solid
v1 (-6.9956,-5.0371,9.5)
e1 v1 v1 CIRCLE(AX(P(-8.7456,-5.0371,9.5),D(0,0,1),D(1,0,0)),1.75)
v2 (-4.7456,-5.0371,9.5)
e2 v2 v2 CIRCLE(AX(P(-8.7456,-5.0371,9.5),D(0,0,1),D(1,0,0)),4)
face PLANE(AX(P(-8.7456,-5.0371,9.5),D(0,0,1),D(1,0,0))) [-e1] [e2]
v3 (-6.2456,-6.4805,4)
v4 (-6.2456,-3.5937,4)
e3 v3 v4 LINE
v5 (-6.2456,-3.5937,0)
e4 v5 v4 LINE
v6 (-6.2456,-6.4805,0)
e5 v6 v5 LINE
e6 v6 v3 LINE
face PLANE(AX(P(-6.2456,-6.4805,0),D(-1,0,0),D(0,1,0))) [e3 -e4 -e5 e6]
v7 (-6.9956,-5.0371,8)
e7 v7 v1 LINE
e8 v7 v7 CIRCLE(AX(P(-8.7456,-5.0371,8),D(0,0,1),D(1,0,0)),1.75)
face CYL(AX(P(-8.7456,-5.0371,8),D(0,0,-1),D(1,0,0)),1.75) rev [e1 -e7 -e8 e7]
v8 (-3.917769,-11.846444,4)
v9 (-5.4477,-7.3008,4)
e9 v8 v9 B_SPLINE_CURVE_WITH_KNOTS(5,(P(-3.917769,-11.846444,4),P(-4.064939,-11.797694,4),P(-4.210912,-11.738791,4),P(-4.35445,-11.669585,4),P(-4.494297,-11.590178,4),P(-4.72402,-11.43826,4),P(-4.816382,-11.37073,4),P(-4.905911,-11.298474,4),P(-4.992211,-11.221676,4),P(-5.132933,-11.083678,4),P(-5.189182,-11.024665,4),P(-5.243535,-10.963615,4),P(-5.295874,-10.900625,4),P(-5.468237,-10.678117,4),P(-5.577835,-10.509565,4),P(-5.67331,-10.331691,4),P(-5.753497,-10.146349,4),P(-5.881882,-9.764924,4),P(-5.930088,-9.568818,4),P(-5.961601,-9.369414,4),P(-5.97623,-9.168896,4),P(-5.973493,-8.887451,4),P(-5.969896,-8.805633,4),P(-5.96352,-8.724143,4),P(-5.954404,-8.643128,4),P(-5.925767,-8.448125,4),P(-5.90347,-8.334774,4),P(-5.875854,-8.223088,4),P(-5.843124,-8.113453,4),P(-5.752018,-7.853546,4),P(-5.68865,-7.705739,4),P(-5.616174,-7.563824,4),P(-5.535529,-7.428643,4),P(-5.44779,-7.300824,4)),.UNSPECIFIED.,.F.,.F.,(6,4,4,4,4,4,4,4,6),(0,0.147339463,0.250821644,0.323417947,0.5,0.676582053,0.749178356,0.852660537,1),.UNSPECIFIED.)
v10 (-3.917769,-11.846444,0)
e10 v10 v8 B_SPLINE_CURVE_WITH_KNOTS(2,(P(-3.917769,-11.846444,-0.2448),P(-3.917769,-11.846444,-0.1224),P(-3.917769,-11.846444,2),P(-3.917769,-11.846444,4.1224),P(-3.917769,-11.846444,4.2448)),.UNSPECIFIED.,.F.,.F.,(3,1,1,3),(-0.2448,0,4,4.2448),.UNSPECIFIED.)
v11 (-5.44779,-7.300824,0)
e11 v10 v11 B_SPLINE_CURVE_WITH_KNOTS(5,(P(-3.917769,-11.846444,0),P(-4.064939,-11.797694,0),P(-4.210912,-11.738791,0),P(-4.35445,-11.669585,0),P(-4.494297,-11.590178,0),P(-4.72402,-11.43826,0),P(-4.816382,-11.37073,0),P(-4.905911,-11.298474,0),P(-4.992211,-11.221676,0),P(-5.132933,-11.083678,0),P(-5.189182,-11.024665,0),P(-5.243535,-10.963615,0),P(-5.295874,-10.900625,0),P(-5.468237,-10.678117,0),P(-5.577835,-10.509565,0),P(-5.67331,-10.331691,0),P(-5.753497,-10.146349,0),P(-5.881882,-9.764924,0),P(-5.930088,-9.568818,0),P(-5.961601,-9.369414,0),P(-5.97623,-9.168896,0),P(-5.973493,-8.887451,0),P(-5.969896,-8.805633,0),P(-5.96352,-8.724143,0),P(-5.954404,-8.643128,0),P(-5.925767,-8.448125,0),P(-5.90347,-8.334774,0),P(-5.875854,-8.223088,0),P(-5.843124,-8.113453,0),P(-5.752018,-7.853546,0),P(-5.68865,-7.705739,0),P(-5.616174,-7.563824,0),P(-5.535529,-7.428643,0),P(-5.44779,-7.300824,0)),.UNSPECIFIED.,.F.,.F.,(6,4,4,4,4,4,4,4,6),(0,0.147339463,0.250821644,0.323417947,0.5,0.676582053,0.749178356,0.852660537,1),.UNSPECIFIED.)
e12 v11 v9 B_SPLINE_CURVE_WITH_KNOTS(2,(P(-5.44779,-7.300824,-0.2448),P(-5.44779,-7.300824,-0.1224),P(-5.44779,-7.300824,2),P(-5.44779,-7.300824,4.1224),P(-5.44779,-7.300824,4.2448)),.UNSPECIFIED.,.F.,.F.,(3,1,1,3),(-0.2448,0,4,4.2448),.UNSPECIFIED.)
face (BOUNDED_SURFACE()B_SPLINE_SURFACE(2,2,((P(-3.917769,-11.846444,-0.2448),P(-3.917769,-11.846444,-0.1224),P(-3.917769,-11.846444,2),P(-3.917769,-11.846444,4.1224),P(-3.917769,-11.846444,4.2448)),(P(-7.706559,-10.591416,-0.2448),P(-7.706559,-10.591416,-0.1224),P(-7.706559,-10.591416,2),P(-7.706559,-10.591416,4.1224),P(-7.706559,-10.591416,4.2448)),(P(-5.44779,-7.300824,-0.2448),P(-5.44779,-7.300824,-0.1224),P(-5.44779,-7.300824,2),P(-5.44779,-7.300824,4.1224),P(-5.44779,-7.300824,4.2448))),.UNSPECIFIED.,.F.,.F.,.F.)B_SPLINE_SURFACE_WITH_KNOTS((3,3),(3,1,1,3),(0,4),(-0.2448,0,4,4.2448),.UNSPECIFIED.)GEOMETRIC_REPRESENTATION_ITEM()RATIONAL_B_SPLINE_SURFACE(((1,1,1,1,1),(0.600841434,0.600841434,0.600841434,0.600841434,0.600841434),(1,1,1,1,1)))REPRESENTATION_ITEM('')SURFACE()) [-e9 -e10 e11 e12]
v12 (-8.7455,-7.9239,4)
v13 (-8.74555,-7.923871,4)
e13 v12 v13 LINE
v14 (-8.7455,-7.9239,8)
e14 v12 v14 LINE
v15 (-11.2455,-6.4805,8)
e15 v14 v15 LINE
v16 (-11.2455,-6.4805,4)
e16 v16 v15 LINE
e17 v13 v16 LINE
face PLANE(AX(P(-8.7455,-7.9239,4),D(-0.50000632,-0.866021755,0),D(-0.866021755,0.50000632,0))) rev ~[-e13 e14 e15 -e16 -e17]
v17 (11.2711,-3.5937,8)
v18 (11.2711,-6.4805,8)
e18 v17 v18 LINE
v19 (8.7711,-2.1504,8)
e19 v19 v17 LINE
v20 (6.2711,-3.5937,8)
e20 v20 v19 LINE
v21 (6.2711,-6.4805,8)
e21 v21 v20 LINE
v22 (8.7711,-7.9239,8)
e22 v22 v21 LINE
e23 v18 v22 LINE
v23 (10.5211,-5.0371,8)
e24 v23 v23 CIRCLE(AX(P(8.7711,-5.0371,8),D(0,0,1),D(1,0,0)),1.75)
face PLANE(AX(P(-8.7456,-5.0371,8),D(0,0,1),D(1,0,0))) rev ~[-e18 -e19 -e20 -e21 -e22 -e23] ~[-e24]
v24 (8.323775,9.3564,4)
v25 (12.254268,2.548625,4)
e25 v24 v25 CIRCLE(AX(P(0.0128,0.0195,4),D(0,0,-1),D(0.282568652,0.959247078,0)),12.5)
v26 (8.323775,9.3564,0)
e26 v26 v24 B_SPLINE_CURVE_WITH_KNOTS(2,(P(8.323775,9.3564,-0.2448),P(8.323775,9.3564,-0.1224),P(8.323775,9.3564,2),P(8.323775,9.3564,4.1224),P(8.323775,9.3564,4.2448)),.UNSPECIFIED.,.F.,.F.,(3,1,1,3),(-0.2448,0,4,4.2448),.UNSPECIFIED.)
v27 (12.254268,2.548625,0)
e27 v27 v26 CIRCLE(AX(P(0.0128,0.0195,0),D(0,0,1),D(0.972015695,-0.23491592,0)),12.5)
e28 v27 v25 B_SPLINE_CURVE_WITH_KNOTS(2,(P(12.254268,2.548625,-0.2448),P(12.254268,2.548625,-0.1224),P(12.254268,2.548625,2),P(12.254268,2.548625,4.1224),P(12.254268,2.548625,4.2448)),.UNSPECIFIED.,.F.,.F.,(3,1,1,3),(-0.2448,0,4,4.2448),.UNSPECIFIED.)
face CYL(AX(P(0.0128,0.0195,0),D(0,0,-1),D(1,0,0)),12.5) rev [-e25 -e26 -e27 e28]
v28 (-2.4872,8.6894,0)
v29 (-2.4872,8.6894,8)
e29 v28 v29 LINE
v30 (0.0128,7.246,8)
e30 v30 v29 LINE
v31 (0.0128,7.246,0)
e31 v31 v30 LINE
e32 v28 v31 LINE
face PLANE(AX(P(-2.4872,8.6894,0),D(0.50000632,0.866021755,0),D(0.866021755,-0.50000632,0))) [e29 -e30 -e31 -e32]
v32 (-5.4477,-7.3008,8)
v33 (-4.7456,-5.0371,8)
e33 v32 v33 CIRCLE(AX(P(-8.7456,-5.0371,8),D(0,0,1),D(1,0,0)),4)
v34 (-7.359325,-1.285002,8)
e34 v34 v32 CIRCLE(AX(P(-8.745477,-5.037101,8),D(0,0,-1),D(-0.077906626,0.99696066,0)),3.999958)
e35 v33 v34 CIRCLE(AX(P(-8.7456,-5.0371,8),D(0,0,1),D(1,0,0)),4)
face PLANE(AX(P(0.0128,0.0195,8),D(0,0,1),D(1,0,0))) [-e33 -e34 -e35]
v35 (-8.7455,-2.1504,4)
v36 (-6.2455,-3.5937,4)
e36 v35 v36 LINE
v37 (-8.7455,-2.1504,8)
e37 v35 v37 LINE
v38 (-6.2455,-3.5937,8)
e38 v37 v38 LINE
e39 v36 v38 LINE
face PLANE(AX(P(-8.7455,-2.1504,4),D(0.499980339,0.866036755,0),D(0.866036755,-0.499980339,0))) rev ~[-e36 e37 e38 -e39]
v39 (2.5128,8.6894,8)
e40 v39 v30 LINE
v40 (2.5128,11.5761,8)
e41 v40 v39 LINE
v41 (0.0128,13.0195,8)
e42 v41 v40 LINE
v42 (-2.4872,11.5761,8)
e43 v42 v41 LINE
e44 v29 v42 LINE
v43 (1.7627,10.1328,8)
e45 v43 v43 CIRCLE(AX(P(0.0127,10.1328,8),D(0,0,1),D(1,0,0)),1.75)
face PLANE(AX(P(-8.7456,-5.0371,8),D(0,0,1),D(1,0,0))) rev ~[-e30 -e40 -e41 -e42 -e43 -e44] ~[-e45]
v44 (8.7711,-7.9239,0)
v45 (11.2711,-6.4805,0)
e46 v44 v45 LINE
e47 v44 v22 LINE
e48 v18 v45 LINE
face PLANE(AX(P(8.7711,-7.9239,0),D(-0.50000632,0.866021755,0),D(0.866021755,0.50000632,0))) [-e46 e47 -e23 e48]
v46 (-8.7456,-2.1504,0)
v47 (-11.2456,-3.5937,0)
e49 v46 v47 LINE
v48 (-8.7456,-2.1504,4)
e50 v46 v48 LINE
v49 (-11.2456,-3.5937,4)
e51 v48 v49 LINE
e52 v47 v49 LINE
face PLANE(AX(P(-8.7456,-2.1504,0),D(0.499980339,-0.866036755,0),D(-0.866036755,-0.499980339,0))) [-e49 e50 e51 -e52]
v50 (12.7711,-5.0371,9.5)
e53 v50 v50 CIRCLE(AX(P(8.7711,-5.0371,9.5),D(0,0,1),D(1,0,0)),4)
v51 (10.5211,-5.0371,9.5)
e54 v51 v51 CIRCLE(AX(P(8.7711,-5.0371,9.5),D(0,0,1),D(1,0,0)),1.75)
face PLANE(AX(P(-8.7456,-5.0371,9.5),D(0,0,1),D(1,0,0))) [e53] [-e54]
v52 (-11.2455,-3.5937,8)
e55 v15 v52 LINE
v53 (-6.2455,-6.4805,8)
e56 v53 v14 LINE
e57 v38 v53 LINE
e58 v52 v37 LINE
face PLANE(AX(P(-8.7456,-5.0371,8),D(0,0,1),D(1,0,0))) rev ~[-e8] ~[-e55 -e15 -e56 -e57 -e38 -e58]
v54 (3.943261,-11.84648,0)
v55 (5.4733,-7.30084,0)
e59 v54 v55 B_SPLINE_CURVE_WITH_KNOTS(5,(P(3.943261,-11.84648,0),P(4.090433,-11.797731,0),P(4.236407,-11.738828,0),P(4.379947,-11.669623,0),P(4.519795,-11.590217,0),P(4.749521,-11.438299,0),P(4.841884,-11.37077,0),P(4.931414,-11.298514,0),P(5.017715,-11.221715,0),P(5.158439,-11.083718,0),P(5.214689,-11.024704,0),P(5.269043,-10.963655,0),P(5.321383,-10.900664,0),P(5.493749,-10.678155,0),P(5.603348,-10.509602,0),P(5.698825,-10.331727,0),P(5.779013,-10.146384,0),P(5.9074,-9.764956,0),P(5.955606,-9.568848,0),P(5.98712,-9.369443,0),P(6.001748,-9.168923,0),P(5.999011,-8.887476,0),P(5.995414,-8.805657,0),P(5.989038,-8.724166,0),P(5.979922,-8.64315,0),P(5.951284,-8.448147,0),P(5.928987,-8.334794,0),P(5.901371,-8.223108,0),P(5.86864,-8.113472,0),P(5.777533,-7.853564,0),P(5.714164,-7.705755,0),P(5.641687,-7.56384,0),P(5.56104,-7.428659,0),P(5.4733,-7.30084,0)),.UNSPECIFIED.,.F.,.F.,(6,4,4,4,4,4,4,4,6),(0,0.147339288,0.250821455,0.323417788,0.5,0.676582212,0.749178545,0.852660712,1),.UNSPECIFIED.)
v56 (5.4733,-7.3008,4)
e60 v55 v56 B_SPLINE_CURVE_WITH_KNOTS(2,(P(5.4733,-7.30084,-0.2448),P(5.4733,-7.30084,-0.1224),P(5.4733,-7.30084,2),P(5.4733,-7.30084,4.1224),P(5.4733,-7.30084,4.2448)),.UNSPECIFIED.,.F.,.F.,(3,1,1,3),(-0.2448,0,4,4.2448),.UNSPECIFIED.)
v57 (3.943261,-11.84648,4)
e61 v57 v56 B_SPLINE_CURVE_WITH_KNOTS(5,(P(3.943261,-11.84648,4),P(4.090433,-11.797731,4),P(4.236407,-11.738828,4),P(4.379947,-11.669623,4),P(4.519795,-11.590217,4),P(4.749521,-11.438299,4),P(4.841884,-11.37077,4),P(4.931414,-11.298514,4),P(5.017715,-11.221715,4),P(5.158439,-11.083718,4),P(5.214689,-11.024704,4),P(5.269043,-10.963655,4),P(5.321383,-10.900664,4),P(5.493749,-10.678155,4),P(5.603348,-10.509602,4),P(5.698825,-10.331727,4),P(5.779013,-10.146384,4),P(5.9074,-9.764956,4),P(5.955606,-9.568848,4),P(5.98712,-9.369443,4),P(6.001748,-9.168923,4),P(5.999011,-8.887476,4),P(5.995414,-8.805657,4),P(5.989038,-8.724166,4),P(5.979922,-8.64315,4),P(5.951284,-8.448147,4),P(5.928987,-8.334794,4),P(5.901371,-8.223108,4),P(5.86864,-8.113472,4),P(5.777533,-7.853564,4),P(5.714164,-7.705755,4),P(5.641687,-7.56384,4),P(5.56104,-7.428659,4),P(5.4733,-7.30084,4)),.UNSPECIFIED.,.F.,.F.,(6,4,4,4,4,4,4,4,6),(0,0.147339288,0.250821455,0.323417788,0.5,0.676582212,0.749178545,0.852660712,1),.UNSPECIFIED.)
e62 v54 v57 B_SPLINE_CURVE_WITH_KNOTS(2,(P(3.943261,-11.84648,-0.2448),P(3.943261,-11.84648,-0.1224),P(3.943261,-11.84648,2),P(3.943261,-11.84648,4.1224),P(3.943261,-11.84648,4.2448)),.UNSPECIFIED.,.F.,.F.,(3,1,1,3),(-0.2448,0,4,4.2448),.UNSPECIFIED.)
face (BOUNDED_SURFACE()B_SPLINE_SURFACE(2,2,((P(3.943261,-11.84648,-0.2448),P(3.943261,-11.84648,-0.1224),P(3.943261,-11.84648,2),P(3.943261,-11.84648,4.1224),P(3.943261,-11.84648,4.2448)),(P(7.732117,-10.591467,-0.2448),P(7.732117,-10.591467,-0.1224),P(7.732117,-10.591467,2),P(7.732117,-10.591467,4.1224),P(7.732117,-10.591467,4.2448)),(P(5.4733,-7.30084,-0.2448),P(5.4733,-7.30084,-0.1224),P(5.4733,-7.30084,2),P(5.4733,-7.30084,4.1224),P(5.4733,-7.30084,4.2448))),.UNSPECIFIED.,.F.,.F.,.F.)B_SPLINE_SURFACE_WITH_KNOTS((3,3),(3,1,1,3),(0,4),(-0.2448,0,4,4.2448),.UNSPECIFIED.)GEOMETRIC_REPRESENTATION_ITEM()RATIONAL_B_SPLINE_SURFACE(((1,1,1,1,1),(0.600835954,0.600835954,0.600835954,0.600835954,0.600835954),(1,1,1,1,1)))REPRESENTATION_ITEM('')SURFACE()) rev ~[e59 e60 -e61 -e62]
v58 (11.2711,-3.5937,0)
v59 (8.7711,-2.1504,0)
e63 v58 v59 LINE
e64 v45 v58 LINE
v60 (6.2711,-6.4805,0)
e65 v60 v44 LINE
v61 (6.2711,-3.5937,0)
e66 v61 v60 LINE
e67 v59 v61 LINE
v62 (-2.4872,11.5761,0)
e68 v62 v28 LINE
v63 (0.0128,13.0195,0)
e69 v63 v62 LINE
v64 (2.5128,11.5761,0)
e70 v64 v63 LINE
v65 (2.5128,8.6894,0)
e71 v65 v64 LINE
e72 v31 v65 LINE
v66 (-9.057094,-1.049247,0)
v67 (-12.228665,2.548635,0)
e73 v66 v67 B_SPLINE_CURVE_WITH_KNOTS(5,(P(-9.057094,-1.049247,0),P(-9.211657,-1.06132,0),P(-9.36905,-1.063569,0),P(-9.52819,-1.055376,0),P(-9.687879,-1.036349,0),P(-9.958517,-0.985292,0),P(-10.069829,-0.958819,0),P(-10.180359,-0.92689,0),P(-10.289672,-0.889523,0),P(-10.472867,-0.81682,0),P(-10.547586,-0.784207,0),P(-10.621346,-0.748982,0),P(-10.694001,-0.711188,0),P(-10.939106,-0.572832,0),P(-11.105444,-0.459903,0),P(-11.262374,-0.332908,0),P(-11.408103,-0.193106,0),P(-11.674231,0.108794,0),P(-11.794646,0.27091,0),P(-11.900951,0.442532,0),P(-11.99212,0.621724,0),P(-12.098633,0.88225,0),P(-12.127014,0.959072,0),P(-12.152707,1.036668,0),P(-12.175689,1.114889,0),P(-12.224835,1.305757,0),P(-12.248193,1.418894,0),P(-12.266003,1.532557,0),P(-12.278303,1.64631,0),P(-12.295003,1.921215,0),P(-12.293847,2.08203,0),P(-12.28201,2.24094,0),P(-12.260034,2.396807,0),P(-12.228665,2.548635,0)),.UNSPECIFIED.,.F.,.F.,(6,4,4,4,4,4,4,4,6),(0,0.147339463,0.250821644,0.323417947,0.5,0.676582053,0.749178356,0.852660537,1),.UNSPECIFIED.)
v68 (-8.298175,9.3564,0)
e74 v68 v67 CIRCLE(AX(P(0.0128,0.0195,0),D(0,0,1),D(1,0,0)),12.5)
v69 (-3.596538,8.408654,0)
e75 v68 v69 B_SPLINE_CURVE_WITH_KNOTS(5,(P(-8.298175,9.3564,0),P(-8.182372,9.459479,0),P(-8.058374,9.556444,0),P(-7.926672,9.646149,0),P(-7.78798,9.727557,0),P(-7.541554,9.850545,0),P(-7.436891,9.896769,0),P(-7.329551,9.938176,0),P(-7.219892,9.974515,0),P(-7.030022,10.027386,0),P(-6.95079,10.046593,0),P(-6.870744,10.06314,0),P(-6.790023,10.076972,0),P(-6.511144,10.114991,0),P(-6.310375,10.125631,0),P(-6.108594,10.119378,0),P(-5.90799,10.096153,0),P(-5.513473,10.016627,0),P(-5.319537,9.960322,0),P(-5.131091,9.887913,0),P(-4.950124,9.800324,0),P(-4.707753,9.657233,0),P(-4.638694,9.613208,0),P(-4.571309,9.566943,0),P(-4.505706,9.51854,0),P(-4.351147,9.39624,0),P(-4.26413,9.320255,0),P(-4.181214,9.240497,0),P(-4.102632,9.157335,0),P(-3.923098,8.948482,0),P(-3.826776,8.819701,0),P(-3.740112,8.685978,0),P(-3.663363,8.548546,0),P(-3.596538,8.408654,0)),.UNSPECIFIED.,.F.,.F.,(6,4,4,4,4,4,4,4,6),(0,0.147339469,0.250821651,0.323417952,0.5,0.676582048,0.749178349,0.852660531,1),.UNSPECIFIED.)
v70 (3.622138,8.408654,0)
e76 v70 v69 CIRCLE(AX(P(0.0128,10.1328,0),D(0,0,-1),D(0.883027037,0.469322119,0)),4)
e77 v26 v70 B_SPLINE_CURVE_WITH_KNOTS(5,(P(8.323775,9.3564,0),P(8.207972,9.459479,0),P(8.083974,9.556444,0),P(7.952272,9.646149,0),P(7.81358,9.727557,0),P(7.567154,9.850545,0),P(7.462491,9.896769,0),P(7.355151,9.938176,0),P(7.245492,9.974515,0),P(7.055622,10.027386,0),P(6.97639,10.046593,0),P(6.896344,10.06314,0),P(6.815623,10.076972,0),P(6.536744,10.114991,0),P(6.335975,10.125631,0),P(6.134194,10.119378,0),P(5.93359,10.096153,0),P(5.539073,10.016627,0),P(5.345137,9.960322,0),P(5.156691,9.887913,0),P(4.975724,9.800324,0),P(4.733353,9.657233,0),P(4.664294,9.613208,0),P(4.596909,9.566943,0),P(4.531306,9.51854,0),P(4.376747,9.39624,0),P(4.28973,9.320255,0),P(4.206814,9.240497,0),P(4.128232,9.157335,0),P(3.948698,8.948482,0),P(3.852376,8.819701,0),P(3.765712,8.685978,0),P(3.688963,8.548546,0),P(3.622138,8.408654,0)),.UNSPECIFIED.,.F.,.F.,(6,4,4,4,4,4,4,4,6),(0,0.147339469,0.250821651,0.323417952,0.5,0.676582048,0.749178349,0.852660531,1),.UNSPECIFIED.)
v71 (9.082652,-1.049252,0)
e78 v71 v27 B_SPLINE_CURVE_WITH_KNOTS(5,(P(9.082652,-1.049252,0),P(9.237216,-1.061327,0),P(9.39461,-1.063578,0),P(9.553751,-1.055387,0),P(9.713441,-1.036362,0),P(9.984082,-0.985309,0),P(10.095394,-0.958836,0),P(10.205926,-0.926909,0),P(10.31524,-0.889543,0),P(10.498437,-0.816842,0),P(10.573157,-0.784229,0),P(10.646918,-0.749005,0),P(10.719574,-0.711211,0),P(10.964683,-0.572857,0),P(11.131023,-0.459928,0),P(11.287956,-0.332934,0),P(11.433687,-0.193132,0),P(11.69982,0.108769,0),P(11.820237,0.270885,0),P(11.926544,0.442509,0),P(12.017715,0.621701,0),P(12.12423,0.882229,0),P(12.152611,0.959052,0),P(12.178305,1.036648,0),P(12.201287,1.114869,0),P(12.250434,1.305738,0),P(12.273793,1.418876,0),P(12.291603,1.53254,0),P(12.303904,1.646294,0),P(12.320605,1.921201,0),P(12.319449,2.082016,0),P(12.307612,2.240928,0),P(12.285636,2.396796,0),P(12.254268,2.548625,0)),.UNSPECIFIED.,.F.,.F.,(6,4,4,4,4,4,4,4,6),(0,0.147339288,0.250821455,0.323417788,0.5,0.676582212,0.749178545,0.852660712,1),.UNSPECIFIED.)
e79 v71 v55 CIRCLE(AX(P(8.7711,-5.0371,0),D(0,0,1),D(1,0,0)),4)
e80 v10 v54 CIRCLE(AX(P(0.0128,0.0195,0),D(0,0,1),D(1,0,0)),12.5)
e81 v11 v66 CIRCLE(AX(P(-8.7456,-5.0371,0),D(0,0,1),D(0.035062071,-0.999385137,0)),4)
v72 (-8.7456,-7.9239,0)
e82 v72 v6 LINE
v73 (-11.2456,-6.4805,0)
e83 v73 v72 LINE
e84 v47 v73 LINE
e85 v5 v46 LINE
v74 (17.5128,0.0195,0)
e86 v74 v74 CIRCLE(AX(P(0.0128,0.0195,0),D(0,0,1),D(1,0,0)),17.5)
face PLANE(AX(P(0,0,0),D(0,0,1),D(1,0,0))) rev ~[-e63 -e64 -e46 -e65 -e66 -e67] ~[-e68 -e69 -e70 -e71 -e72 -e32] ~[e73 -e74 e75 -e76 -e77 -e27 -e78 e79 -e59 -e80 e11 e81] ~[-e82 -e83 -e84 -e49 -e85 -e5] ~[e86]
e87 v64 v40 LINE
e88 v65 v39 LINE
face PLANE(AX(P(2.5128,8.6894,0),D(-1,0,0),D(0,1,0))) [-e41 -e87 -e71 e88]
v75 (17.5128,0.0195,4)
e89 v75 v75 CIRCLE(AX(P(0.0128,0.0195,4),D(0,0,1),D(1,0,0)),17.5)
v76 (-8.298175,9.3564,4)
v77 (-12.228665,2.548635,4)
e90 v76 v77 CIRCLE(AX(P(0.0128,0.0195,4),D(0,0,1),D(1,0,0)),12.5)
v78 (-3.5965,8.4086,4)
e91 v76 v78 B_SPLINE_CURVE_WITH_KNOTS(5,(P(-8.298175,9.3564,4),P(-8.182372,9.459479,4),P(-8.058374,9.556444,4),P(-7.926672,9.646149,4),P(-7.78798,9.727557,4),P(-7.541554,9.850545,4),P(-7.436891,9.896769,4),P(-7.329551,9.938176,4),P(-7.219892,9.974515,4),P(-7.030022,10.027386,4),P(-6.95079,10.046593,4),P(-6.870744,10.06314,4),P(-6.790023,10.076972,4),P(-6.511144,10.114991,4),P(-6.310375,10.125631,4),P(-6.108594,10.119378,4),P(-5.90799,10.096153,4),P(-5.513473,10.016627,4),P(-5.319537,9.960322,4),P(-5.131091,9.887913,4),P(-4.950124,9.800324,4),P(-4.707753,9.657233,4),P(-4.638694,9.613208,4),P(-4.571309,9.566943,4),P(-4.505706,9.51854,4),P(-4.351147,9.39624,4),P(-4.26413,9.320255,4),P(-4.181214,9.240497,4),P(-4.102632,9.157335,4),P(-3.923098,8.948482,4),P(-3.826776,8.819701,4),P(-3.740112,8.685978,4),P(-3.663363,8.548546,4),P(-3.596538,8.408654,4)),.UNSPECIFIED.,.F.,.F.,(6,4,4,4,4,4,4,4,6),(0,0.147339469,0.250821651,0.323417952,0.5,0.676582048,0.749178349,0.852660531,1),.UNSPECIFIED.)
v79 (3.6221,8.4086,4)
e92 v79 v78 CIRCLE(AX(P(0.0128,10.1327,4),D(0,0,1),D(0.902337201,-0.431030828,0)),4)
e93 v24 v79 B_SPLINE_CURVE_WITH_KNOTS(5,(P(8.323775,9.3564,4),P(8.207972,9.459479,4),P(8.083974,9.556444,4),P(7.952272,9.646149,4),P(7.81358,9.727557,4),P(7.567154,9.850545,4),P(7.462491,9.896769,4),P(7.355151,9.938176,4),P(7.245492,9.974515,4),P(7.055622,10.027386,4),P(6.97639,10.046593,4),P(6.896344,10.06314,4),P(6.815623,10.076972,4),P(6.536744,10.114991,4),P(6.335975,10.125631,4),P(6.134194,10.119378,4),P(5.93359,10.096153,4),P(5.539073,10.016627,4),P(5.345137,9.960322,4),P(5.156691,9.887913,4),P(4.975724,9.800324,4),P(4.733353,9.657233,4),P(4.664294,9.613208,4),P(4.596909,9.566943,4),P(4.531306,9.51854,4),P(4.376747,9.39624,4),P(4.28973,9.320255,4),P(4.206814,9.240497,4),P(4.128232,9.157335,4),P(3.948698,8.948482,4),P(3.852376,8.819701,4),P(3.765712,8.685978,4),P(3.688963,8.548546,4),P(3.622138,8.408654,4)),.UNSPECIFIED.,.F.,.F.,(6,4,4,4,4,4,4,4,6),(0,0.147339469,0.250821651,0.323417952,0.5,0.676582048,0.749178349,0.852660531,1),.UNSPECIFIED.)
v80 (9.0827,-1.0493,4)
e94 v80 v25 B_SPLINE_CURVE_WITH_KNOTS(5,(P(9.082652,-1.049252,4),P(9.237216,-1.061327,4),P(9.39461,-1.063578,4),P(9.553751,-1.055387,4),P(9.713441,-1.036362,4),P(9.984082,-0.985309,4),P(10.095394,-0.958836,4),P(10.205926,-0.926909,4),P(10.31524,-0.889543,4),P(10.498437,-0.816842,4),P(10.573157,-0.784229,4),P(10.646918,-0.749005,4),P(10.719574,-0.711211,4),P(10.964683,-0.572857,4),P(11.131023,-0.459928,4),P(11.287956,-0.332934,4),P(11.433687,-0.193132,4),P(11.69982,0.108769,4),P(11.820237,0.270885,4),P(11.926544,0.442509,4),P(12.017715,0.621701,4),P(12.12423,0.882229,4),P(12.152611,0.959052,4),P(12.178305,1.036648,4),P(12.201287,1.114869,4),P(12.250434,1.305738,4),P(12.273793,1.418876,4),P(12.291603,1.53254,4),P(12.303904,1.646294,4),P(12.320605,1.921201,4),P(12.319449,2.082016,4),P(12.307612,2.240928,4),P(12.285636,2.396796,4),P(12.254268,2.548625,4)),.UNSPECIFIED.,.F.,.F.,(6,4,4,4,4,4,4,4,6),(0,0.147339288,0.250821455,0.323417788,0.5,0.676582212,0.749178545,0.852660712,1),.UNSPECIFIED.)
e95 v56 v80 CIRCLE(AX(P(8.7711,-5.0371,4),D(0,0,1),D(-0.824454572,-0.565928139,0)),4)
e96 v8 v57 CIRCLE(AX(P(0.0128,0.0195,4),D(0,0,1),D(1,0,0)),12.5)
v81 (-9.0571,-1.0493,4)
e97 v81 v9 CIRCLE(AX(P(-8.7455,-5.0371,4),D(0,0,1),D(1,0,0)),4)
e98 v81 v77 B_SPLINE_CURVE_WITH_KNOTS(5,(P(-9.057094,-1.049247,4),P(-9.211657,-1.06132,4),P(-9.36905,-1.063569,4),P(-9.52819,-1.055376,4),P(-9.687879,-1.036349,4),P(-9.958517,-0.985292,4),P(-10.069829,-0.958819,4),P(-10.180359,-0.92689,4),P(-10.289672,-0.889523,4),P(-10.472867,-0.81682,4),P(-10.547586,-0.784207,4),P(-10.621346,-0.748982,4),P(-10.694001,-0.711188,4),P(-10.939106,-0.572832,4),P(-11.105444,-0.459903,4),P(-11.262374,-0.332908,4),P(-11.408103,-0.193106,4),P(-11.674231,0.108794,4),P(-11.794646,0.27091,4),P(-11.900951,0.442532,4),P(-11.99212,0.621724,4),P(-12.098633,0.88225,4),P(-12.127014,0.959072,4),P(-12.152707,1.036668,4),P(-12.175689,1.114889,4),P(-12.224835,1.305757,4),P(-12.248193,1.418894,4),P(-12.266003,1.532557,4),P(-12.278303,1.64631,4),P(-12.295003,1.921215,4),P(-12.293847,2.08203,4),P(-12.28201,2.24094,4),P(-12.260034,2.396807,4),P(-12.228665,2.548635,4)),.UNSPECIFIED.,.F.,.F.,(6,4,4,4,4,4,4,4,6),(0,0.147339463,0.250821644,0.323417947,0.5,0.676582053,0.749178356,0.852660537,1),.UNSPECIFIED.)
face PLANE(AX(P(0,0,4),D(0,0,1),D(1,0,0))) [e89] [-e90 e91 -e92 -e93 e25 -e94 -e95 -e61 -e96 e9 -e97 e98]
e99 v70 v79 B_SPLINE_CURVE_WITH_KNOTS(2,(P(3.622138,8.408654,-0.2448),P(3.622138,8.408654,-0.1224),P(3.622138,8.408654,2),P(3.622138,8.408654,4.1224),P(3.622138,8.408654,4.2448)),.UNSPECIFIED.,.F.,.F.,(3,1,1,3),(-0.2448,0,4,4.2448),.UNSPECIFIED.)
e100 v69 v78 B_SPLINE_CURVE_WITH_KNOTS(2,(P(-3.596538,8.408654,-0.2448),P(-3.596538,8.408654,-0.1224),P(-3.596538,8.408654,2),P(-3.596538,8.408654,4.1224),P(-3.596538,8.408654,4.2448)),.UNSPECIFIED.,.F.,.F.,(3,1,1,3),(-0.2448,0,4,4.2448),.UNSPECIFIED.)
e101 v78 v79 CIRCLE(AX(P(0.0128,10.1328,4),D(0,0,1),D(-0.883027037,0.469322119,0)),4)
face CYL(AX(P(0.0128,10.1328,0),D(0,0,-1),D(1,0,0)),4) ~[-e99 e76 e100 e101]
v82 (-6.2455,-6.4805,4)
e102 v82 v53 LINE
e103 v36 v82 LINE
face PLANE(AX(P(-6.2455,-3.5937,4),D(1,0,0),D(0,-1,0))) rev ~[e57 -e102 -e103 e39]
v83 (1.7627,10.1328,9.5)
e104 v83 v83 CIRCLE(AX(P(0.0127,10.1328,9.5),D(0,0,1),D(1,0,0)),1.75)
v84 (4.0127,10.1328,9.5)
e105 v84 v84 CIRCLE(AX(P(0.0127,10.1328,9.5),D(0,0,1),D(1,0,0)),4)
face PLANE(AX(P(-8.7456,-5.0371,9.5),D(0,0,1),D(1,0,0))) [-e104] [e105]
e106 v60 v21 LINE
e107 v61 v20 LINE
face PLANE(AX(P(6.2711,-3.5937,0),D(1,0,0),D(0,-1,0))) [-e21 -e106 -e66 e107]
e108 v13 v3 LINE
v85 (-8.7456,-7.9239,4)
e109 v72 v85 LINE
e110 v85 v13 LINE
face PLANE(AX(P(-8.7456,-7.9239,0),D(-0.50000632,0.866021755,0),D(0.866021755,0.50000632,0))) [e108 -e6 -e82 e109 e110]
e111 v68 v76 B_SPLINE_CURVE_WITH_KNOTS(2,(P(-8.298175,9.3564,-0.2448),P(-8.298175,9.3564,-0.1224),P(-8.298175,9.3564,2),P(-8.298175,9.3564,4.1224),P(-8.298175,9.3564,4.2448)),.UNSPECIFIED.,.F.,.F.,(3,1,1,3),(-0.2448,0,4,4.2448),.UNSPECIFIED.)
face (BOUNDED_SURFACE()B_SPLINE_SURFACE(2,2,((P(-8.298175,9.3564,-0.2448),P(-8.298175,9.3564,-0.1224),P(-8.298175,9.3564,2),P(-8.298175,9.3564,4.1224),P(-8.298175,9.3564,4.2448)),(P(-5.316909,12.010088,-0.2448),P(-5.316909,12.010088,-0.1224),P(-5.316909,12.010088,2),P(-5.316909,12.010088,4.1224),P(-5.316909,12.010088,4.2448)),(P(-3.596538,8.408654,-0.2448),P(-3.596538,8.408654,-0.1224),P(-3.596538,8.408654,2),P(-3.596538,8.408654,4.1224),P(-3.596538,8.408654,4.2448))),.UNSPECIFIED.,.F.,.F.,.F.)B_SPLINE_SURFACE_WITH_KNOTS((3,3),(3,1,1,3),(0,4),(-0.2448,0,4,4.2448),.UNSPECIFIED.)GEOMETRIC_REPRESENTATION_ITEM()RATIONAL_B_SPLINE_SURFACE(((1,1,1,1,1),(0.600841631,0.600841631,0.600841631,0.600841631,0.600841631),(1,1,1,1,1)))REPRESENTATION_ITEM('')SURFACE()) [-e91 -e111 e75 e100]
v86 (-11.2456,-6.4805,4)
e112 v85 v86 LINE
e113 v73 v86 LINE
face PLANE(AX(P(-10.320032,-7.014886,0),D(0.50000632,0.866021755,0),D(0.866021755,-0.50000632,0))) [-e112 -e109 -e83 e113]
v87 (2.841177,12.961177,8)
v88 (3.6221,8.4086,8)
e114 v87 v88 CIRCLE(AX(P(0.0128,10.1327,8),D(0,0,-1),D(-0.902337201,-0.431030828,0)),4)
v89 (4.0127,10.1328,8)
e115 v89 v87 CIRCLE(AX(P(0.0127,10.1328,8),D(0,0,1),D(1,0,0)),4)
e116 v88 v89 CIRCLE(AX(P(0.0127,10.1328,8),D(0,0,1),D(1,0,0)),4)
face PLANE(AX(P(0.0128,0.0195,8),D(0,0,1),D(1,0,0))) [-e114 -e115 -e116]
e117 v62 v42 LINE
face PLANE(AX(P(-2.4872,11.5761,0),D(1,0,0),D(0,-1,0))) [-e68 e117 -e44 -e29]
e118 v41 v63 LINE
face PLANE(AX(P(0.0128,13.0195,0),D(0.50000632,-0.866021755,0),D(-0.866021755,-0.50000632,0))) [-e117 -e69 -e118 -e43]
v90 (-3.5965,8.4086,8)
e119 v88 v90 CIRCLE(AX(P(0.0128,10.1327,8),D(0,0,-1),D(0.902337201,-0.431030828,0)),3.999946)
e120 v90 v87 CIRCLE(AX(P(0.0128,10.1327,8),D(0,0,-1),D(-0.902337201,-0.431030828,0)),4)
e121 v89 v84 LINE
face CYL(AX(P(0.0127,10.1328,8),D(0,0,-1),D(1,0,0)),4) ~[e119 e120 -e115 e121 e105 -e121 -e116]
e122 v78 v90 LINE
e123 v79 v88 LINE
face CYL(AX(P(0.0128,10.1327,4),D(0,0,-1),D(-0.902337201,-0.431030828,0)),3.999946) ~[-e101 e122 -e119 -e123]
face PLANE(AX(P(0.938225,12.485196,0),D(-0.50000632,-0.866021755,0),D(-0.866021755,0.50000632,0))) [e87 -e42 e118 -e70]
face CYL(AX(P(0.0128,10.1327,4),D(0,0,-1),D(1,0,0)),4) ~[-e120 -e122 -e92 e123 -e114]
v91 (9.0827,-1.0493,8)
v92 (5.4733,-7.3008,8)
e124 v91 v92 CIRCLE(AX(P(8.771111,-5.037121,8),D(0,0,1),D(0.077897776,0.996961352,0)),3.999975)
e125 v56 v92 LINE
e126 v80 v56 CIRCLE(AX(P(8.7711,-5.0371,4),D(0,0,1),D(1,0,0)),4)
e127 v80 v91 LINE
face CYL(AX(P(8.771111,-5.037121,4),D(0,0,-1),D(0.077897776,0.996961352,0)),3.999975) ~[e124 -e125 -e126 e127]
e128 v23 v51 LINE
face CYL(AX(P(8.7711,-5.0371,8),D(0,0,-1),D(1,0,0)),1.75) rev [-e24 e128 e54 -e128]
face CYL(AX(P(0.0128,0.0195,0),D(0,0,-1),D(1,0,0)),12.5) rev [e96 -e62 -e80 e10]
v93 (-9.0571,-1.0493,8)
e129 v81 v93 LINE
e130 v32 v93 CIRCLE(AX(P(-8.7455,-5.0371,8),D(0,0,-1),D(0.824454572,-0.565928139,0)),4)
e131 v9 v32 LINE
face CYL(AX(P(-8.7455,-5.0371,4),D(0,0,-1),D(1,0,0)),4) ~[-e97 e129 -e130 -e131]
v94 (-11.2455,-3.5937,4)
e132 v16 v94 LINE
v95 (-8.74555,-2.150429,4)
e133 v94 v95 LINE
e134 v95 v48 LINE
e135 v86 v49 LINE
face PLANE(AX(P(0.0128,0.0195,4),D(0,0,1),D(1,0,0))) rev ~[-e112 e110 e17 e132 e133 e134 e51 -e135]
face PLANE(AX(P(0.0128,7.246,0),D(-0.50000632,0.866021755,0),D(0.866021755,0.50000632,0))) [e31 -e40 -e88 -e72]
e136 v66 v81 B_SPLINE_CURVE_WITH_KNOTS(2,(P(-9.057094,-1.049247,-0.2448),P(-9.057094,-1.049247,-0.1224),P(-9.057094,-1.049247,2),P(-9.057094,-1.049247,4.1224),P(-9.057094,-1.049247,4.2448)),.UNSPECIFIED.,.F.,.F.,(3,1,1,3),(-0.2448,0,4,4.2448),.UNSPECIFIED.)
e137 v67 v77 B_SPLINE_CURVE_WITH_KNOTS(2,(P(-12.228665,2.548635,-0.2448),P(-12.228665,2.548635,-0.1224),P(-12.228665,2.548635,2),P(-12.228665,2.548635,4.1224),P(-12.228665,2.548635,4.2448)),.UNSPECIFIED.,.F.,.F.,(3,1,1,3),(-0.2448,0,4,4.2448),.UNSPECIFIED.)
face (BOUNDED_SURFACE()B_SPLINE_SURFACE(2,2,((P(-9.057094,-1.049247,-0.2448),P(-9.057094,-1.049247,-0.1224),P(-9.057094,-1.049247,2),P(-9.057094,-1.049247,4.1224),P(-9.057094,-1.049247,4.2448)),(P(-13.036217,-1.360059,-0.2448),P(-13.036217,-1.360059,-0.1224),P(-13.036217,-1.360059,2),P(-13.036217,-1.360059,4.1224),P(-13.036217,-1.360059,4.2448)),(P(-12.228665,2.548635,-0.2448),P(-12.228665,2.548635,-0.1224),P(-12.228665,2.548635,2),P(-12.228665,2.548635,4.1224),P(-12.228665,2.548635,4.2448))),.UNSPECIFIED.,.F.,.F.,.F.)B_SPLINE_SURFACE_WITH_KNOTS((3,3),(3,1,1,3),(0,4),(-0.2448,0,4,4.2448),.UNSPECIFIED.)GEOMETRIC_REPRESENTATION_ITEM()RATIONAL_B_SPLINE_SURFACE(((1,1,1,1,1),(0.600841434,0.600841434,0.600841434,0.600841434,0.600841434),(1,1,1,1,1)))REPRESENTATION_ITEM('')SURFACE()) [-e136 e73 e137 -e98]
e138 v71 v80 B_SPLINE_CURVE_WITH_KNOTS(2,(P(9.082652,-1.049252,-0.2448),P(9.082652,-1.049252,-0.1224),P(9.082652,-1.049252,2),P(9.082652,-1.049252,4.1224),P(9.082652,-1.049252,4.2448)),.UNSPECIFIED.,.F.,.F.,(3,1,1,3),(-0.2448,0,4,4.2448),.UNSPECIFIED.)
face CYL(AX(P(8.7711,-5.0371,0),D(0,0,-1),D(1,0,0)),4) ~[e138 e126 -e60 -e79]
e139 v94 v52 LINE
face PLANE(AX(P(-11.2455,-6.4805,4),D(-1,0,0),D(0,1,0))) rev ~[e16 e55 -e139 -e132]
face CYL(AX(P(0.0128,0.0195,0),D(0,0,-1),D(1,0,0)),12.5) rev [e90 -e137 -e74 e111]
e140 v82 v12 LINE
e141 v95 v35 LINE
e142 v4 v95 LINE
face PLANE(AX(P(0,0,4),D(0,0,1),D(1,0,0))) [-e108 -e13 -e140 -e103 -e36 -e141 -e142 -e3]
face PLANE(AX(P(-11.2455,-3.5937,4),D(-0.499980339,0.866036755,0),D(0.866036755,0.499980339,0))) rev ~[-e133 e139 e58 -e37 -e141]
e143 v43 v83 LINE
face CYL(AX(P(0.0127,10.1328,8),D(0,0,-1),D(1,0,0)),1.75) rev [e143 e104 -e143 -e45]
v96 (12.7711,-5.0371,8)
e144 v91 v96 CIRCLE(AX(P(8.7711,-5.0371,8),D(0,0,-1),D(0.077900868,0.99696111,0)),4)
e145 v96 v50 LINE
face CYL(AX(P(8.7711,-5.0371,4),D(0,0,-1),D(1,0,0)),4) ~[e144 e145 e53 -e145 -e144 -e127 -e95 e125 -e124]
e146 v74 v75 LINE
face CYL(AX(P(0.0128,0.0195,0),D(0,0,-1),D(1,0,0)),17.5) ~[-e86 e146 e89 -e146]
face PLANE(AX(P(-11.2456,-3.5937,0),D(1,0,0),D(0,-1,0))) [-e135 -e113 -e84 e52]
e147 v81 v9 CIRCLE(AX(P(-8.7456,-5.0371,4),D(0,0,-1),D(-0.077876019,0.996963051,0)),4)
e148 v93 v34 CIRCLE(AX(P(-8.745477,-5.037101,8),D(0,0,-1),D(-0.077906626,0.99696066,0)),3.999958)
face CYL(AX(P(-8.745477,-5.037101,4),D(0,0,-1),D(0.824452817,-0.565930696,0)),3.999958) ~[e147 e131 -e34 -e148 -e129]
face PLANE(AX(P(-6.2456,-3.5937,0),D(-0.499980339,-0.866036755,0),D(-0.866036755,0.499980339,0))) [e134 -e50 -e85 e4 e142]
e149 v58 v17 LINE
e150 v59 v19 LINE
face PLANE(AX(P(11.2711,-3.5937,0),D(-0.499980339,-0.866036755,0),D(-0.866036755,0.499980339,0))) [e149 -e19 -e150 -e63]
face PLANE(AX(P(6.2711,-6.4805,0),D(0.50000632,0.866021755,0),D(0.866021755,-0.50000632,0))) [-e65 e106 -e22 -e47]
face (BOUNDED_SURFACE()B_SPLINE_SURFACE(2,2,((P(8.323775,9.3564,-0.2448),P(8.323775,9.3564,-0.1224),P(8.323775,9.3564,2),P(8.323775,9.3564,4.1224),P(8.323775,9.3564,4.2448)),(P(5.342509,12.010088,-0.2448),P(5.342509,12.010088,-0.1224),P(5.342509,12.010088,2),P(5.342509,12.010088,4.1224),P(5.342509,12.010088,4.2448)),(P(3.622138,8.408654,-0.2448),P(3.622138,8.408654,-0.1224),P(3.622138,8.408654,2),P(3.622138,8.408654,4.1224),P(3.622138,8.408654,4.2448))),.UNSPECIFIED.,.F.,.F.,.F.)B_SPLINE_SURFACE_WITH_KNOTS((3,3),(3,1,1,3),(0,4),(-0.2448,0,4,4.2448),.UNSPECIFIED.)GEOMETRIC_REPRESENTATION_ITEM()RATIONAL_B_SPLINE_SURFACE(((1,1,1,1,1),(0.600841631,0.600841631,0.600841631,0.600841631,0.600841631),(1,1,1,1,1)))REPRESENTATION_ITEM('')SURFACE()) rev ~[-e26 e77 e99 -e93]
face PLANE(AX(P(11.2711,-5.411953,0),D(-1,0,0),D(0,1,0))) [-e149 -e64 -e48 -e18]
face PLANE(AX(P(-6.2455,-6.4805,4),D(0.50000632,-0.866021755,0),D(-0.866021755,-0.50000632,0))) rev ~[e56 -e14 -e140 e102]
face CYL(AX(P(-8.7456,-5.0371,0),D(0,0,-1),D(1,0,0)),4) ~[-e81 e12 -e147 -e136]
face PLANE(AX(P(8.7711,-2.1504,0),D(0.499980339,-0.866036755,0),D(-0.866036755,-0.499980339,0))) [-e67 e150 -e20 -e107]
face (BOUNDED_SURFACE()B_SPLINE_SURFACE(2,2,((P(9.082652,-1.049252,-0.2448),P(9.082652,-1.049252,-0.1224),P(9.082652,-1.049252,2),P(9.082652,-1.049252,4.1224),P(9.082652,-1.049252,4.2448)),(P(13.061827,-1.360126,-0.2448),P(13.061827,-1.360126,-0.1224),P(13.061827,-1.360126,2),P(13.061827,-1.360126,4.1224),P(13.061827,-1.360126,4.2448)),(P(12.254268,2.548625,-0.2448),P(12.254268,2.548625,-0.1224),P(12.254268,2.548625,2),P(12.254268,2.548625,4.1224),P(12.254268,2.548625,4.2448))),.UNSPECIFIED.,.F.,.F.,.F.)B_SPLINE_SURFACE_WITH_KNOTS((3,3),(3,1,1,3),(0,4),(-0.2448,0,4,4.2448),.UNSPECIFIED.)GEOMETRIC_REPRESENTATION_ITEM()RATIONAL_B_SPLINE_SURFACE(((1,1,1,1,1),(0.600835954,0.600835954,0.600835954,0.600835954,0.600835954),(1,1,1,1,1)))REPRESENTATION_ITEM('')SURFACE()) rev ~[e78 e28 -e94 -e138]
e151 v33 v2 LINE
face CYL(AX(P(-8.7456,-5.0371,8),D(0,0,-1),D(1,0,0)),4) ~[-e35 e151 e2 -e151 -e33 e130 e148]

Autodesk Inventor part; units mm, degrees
ref_plane "YZ Plane" through (0, 0, 0) normal (1, 0, 0) x (0, 1, 0)
ref_plane "XZ Plane" through (0, 0, 0) normal (0, 1, 0) x (-1, 0, 0)
ref_plane "XY Plane" through (0, 0, 0) normal (0, 0, 1) x (1, 0, 0)
sketch "Sketch1" plane through (0, 0, 0) normal (0, 0, 1) x (1, 0, 0)
  arc A0 (17.5247, -11.3882) -> (16.1661, 13.211) centre (-0.0131, -0.0197) ccw
  arc A1 (16.1661, 13.211) -> (-17.4371, 11.522) centre (-0.0129, -0.0197) ccw
  arc A2 (-17.4371, 11.522) -> (17.5247, -11.3882) centre (0.0128, 0.0195) ccw
  circle A3 centre (0.0128, 0.0195) radius 16.547
  arc A4 (-0.8003, 20.8657) -> (0.7744, -20.905) centre (-0.0131, -0.0197) ccw
  line L0 (-0.8003, 20.8657) -> (-0.868, 22.6615)
  line L1 (-0.868, 22.6615) -> (-2.5183, 22.5224)
  arc A5 (-2.5183, 22.5224) -> (-2.5534, 22.518) centre (0.1238, 1.0382) ccw
  line L2 (-2.5534, 22.518) -> (-4.1105, 22.266)
  arc A6 (-4.1105, 22.266) -> (-4.2428, 22.2392) centre (0.1238, 1.0382) ccw
  line L3 (-4.2428, 22.2392) -> (-5.6625, 21.8965)
  arc A7 (-5.6625, 21.8965) -> (-5.9115, 21.8258) centre (0.1238, 1.0382) ccw
  line L4 (-5.9115, 21.8258) -> (-7.1946, 21.4095)
  arc A8 (-7.1946, 21.4095) -> (-7.7258, 21.2108) centre (0.1238, 1.0382) ccw
  line L5 (-7.7258, 21.2108) -> (-8.9127, 20.7078)
  arc A9 (-8.9127, 20.7078) -> (-9.2791, 20.5353) centre (0.1238, 1.0382) ccw
  line L6 (-9.2791, 20.5353) -> (-10.3934, 19.9575)
  arc A10 (-10.3934, 19.9575) -> (-10.7425, 19.7592) centre (0.1238, 1.0382) ccw
  line L7 (-10.7425, 19.7592) -> (-11.8208, 19.0903)
  arc A11 (-11.8208, 19.0903) -> (-12.124, 18.8859) centre (0.1238, 1.0382) ccw
  line L8 (-12.124, 18.8859) -> (-13.195, 18.1017)
  arc A12 (-13.195, 18.1017) -> (-13.9625, 17.4738) centre (0.1238, 1.0382) ccw
  line L9 (-13.9625, 17.4738) -> (-15.0896, 16.4363)
  arc A13 (-15.0896, 16.4363) -> (-15.145, 16.3815) centre (0.1238, 1.0382) ccw
  line L10 (-15.145, 16.3815) -> (-16.2632, 15.1782)
  line L11 (-16.2632, 15.1782) -> (-17.3134, 13.8584)
  line L12 (-17.3134, 13.8584) -> (-18.2689, 12.4514)
  line L13 (-18.2689, 12.4514) -> (-18.5334, 12.0182)
  line L14 (-18.5334, 12.0182) -> (-19.3688, 10.4871)
  line L15 (-19.3688, 10.4871) -> (-20.083, 8.911)
  line L16 (-20.083, 8.911) -> (-20.6779, 7.2958)
  line L17 (-20.6779, 7.2958) -> (-21.152, 5.6438)
  line L18 (-21.152, 5.6438) -> (-21.5797, 3.4669)
  line L19 (-21.5797, 3.4669) -> (-21.7618, 1.7835)
  line L20 (-21.7618, 1.7835) -> (-21.8161, 0.1003)
  line L21 (-21.8161, 0.1003) -> (-21.7428, -1.583)
  line L22 (-21.7428, -1.583) -> (-21.6202, -2.7239)
  line L23 (-21.6202, -2.7239) -> (-21.3264, -4.4266)
  line L24 (-21.3264, -4.4266) -> (-20.9055, -6.0981)
  line L25 (-20.9055, -6.0981) -> (-20.3593, -7.738)
  line L26 (-20.3593, -7.738) -> (-19.6908, -9.3414)
  line L27 (-19.6908, -9.3414) -> (-18.6931, -11.2832)
  line L28 (-18.6931, -11.2832) -> (-17.6782, -12.8711)
  line L29 (-17.6782, -12.8711) -> (-16.6668, -14.2237)
  line L30 (-16.6668, -14.2237) -> (-15.5609, -15.4938)
  line L31 (-15.5609, -15.4938) -> (-14.8459, -16.2211)
  line L32 (-14.8459, -16.2211) -> (-13.5887, -17.3523)
  line L33 (-13.5887, -17.3523) -> (-12.2623, -18.3753)
  line L34 (-12.2623, -18.3753) -> (-10.8699, -19.2905)
  line L35 (-10.8699, -19.2905) -> (-9.4133, -20.0965)
  arc A14 (-9.4133, -20.0965) -> (-9.4126, -20.0968) centre (0.1074, -0.7797) ccw
  line L36 (-9.4126, -20.0968) -> (-8.8344, -20.3712)
  arc A15 (-8.8344, -20.3712) -> (0.8271, -22.3033) centre (0.1074, -0.7797) ccw
  line L37 (0.8271, -22.3033) -> (0.8159, -22.0051)
  line L38 (0.8159, -22.0051) -> (0.7744, -20.905)
  line L39 (11.5292, 18.7089) -> (8.9194, 20.0849)
  line L40 (8.9194, 20.0849) -> (6.0582, 21.1256)
  line L41 (6.0582, 21.1256) -> (3.0061, 21.7717)
  line L42 (3.0061, 21.7717) -> (0.1167, 21.9794)
  line L43 (0.1167, 21.9794) -> (-0.8418, 21.9647)
  line L44 (-0.8003, 20.8657) -> (-0.8418, 21.9647)
  arc A16 (16.1661, 13.211) -> (-0.8003, 20.8657) centre (-0.0131, -0.0197) ccw
  arc A17 (6.9882, -19.7123) -> (16.1661, 13.211) centre (-0.0129, -0.0197) ccw
  arc A18 (0.7744, -20.905) -> (6.9882, -19.7123) centre (-0.0131, -0.0197) ccw
  line L45 (0.8159, -22.0051) -> (0.7744, -20.905)
  line L46 (0.8159, -22.0051) -> (3.8656, -21.6756)
  line L47 (3.8656, -21.6756) -> (6.8541, -20.921)
  line L48 (6.8541, -20.921) -> (9.7319, -19.7442)
  line L49 (9.7319, -19.7442) -> (12.4411, -18.1557)
  line L50 (12.4411, -18.1557) -> (14.8907, -16.2028)
  line L51 (14.8907, -16.2028) -> (16.5899, -14.4545)
  line L52 (16.5899, -14.4545) -> (18.4499, -11.9835)
  line L53 (18.4499, -11.9835) -> (19.9467, -9.2727)
  line L54 (19.9467, -9.2727) -> (21.0432, -6.3956)
  line L55 (21.0432, -6.3956) -> (21.7254, -3.4018)
  line L56 (21.7254, -3.4018) -> (21.9848, -0.332)
  line L57 (21.9848, -0.332) -> (21.9404, 1.4116)
  line L58 (21.9404, 1.4116) -> (21.5354, 4.4148)
  line L59 (21.5354, 4.4148) -> (20.7192, 7.3405)
  line L60 (20.7192, 7.3405) -> (19.5101, 10.1214)
  line L61 (19.5101, 10.1214) -> (17.9894, 12.6256)
  line L62 (17.9894, 12.6256) -> (16.1099, 14.9483)
  line L63 (16.1099, 14.9483) -> (13.8991, 17.0226)
  line L64 (13.8991, 17.0226) -> (11.5292, 18.7089)
  line L65 (-8.7456, -2.1504) -> (-11.2456, -3.5937)
  line L66 (-11.2456, -3.5937) -> (-11.2456, -6.4805)
  line L67 (-11.2456, -6.4805) -> (-8.7456, -7.9239)
  line L68 (-8.7456, -7.9239) -> (-6.2456, -6.4805)
  line L69 (-6.2456, -6.4805) -> (-6.2456, -3.5937)
  line L70 (-6.2456, -3.5937) -> (-8.7456, -2.1504)
  circle A19 centre (-8.7456, -5.0371) radius 4
  line L71 (-6.2456, -5.0371) -> (-11.2456, -5.0371) construction
  line L72 (-8.7456, -2.1504) -> (-8.7456, -5.0371) construction
  circle A20 centre (0.0128, 0.0195) radius 14.5 construction
  line L73 (-12.5446, -7.2305) -> (0.0128, 14.5195) construction
  line L74 (0.0128, 14.5195) -> (12.5701, -7.2305) construction
  line L75 (12.5701, -7.2305) -> (-12.5446, -7.2305) construction
  line L76 (0.0128, 0.0195) -> (-11.2456, -6.4805) construction
  line L77 (0.0128, 0.0195) -> (0.0128, 14.5195) construction
  line L78 (12.5701, -7.2305) -> (0.0128, 0.0195) construction
  line L79 (-11.2456, -6.4805) -> (-12.5446, -7.2305)
  circle A21 centre (0.0128, 10.1328) radius 4
  line L80 (2.5128, 11.5761) -> (0.0128, 13.0195)
  line L81 (2.5128, 8.6894) -> (2.5128, 11.5761)
  line L82 (0.0128, 7.246) -> (2.5128, 8.6894)
  line L83 (-2.4872, 8.6894) -> (0.0128, 7.246)
  line L84 (-2.4872, 11.5761) -> (-2.4872, 8.6894)
  line L85 (0.0128, 13.0195) -> (-2.4872, 11.5761)
  circle A22 centre (8.7711, -5.0371) radius 4
  line L86 (8.7711, -7.9239) -> (11.2711, -6.4805)
  line L87 (6.2711, -6.4805) -> (8.7711, -7.9239)
  line L88 (6.2711, -3.5937) -> (6.2711, -6.4805)
  line L89 (8.7711, -2.1504) -> (6.2711, -3.5937)
  line L90 (11.2711, -3.5937) -> (8.7711, -2.1504)
  line L91 (11.2711, -6.4805) -> (11.2711, -3.5937)
  circle A23 centre (0.0128, 0.0195) radius 12.5
  circle A24 centre (0.0128, 0.0195) radius 17.5
  point P0 (0, 0)
  point P1 (0, 0)
  point P2 (1.2628, 12.2978)
  point P3 (-1.2372, 7.9677)
  point P4 (10.0211, -7.2022)
  point P5 (7.5211, -2.872)
  point P6 (-8.6054, -9.0346)
  point P7 (-12.1374, -2.9169)
  point P8 (-3.5193, 12.0101)
  point P9 (3.5448, 12.0101)
  point P10 (12.163, -2.9169)
  point P11 (8.6309, -9.0346)
  point P12 (-10.3201, -7.0148)
  point P13 (-11.2456, -5.4119)
  point P14 (10.3457, -7.0148)
  point P15 (11.2711, -5.4119)
  point P16 (-0.9127, 12.4852)
  point P17 (0.9382, 12.4852)
  point P18 (-11.8438, -3.9391)
  point P19 (-9.3438, -8.2693)
  point P20 (9.3694, -8.2693)
  point P21 (11.8694, -3.9391)
  point P22 (2.5128, 12.267)
  point P23 (-2.4872, 12.267)
  dimension "d12" = 5
  dimension "d13" = 8
  dimension "d14" = 5
  dimension "d15" = 1.5
  dimension "d16" = 360
  dimension "d18" = 25
  dimension "d22" = 3
  dimension "d28" = 2
extrude "Extrusion2" add sketch "Sketch1" along normal blind 4 contours A3 | L65 L66 A23 A19 L67 L68 L69 L70 | L66 L79 A19 A23 | L67 A23 A19 L79 | A23 L85 L84 L83 L82 L81 L80 A21 | A21 A23 L80 L85 | A23 L86 L91 A22 | A22 A23 L91 L90 L89 L88 L87 L86 | A24
sketch "Sketch3" plane through (0.0128, 0.0195, 4) normal (0, 0, 1) x (1, 0, 0)
  arc A0 (-3.5321, 11.9906) -> (3.5321, 11.9906) centre (0, 10.1132) ccw
  arc A1 (12.1502, -2.9364) -> (3.5321, 11.9906) centre (0, 0) ccw
  arc A2 (12.1502, -2.9364) -> (8.6181, -9.0542) centre (8.7583, -5.0566) ccw
  arc A3 (-8.6181, -9.0542) -> (8.6181, -9.0542) centre (0, 0) ccw
  arc A4 (-8.6181, -9.0542) -> (-12.1502, -2.9364) centre (-8.7583, -5.0566) ccw
  arc A5 (-3.5321, 11.9906) -> (-12.1502, -2.9364) centre (0, 0) ccw
  line L0 (0, 7.2265) -> (-2.5, 8.6699)
  line L1 (-2.5, 8.6699) -> (-2.5, 11.5566)
  line L2 (-2.5, 11.5566) -> (0, 13)
  line L3 (0, 13) -> (2.5, 11.5566)
  line L4 (2.5, 11.5566) -> (2.5, 8.6699)
  line L5 (2.5, 8.6699) -> (0, 7.2265)
  circle A6 centre (0, 0) radius 17.5
  line L6 (8.7583, -2.1699) -> (11.2583, -3.6132)
  line L7 (11.2583, -3.6132) -> (11.2583, -6.5)
  line L8 (11.2583, -6.5) -> (8.7583, -7.9434)
  line L9 (8.7583, -7.9434) -> (6.2583, -6.5)
  line L10 (6.2583, -6.5) -> (6.2583, -3.6132)
  line L11 (6.2583, -3.6132) -> (8.7583, -2.1699)
  line L12 (-11.2583, -6.5) -> (-11.2583, -3.6132)
  line L13 (-11.2583, -3.6132) -> (-8.7583, -2.1699)
  line L14 (-8.7583, -2.1699) -> (-6.2583, -3.6132)
  line L15 (-6.2583, -3.6132) -> (-6.2583, -6.5)
  line L16 (-6.2583, -6.5) -> (-8.7583, -7.9434)
  line L17 (-8.7583, -7.9434) -> (-11.2583, -6.5)
  circle A7 centre (-8.7583, -5.0566) radius 1.5
  circle A8 centre (0, 10.1132) radius 1.5
  circle A9 centre (8.7583, -5.0566) radius 1.5
  circle A10 centre (-8.7583, -5.0566) radius 4
  circle A11 centre (8.7583, -5.0566) radius 4
  arc A12 (-3.5321, 11.9906) -> (3.5321, 11.9906) centre (0, 10.1132) ccw
  arc A13 (12.1502, -2.9364) -> (8.6181, -9.0542) centre (8.7583, -5.0566) ccw
  circle A14 centre (0, 10.1132) radius 4
  point P0 (-0.0128, -0.0195)
  point P1 (3.9284, 11.8667)
  point P2 (-3.9284, 11.8667)
  point P3 (-12.1502, -2.9364)
  point P4 (-8.6181, -9.0542)
  point P5 (12.241, -2.5312)
  point P6 (8.3126, -9.3354)
  point P7 (3.7826, 11.9139)
  point P8 (-3.5321, 11.9906)
  point P9 (-3.5321, 11.9906)
  point P10 (-12.241, -2.5312)
  point P11 (-4.7583, -5.0566)
  point P12 (8.4265, -9.2328)
  point P13 (12.2091, -2.6811)
  point P14 (4, 10.1132)
  point P15 (-3.7826, 11.9139)
  point P16 (-12.2091, -2.6811)
  point P17 (-12.1502, -2.9364)
  point P18 (-8.6181, -9.0542)
  point P19 (-8.4265, -9.2328)
  point P20 (-3.5321, 11.9906)
  point P21 (-6.9787, -8.639)
  point P22 (-10.9709, -1.7243)
  dimension "d16" = 360
  dimension "d23" = 3
  dimension "d24" = 3
  dimension "d25" = 3
extrude "Extrusion3" [suppressed]
fillet "Fillet1" radius 3 6 edges at (-12.1374, -2.9169, 2) (-8.6054, -9.0346, 2) (3.5448, 12.0101, 2) (12.163, -2.9169, 2) (8.6309, -9.0346, 2) (-3.5193, 12.0101, 2)
sketch "Boceto4" plane through (0.0128, 0.0195, 0) normal (0, 0, -1) x (-1, 0, 0)
  arc A0 (-3.6093, 8.3891) -> (-8.311, 9.3369) centre (-6.3164, 7.096) ccw
  arc A1 (-3.6093, 8.3891) -> (3.6093, 8.3891) centre (0, 10.1132) ccw
  arc A2 (8.311, 9.3369) -> (3.6093, 8.3891) centre (6.3164, 7.096) ccw
  arc A3 (12.2415, 2.5291) -> (8.311, 9.3369) centre (0, 0) ccw
  arc A4 (9.0699, -1.0688) -> (12.2415, 2.5291) centre (9.3035, 1.9221) ccw
  arc A5 (9.0699, -1.0688) -> (5.4605, -7.3203) centre (8.7583, -5.0566) ccw
  arc A6 (3.9305, -11.866) -> (5.4605, -7.3203) centre (2.9872, -9.0181) ccw
  arc A7 (-3.9305, -11.866) -> (3.9305, -11.866) centre (0, 0) ccw
  arc A8 (-5.4605, -7.3203) -> (-3.9305, -11.866) centre (-2.9872, -9.0181) ccw
  arc A9 (-5.4605, -7.3203) -> (-9.0699, -1.0688) centre (-8.7583, -5.0566) ccw
  arc A10 (-12.2415, 2.5291) -> (-9.0699, -1.0688) centre (-9.3035, 1.9221) ccw
  arc A11 (-8.311, 9.3369) -> (-12.2415, 2.5291) centre (0, 0) ccw
  line L0 (-11.2583, -6.5) -> (-8.7583, -7.9434)
  line L1 (-11.2583, -3.6132) -> (-11.2583, -6.5)
  line L2 (-8.7583, -2.1699) -> (-11.2583, -3.6132)
  line L3 (-6.2583, -3.6132) -> (-8.7583, -2.1699)
  line L4 (-6.2583, -6.5) -> (-6.2583, -3.6132)
  line L5 (-8.7583, -7.9434) -> (-6.2583, -6.5)
  line L6 (11.2583, -6.5) -> (11.2583, -3.6132)
  line L7 (8.7583, -7.9434) -> (11.2583, -6.5)
  line L8 (6.2583, -6.5) -> (8.7583, -7.9434)
  line L9 (6.2583, -3.6132) -> (6.2583, -6.5)
  line L10 (8.7583, -2.1699) -> (6.2583, -3.6132)
  line L11 (11.2583, -3.6132) -> (8.7583, -2.1699)
  circle A12 centre (0, 0) radius 17.5
  line L12 (0, 13) -> (-2.5, 11.5566)
  line L13 (2.5, 11.5566) -> (0, 13)
  line L14 (2.5, 8.6699) -> (2.5, 11.5566)
  line L15 (0, 7.2265) -> (2.5, 8.6699)
  line L16 (-2.5, 8.6699) -> (0, 7.2265)
  line L17 (-2.5, 11.5566) -> (-2.5, 8.6699)
  line L18 (-11.2583, -6.5) -> (0, 0) construction
  point P0 (0.0128, -0.0195)
sketch "Sketch5" plane through (0.0128, 0.0195, 4) normal (0, 0, 1) x (1, 0, 0)
  arc A0 (12.2415, 2.5291) -> (8.311, 9.3369) centre (0, 0) ccw
  arc A1 (9.0699, -1.0688) -> (12.2415, 2.5291) centre (9.3035, 1.9221) ccw
  arc A2 (9.0699, -1.0688) -> (5.4605, -7.3203) centre (8.7583, -5.0566) ccw
  arc A3 (3.9305, -11.866) -> (5.4605, -7.3203) centre (2.9872, -9.0181) ccw
  arc A4 (-3.9305, -11.866) -> (3.9305, -11.866) centre (0, 0) ccw
  arc A5 (-5.4605, -7.3203) -> (-3.9305, -11.866) centre (-2.9872, -9.0181) ccw
  arc A6 (-5.4605, -7.3203) -> (-9.0699, -1.0688) centre (-8.7583, -5.0566) ccw
  arc A7 (-12.2415, 2.5291) -> (-9.0699, -1.0688) centre (-9.3035, 1.9221) ccw
  arc A8 (-8.311, 9.3369) -> (-12.2415, 2.5291) centre (0, 0) ccw
  arc A9 (-3.6093, 8.3891) -> (-8.311, 9.3369) centre (-6.3164, 7.096) ccw
  arc A10 (-3.6093, 8.3891) -> (3.6093, 8.3891) centre (0, 10.1132) ccw
  arc A11 (8.311, 9.3369) -> (3.6093, 8.3891) centre (6.3164, 7.096) ccw
  line L0 (11.2583, -6.5) -> (8.7583, -7.9434)
  line L1 (8.7583, -7.9434) -> (6.2583, -6.5)
  line L2 (6.2583, -6.5) -> (6.2583, -3.6132)
  line L3 (6.2583, -3.6132) -> (8.7583, -2.1699)
  line L4 (8.7583, -2.1699) -> (11.2583, -3.6132)
  line L5 (11.2583, -3.6132) -> (11.2583, -6.5)
  line L6 (-11.2583, -6.5) -> (-11.2583, -3.6132)
  line L7 (-11.2583, -3.6132) -> (-8.7583, -2.1699)
  line L8 (-8.7583, -2.1699) -> (-6.2583, -3.6132)
  line L9 (-6.2583, -3.6132) -> (-6.2583, -6.5)
  line L10 (-6.2583, -6.5) -> (-8.7583, -7.9434)
  line L11 (-8.7583, -7.9434) -> (-11.2583, -6.5)
  circle A12 centre (0, 0) radius 17.5
  line L12 (0, 13) -> (2.5, 11.5566)
  line L13 (2.5, 11.5566) -> (2.5, 8.6699)
  line L14 (2.5, 8.6699) -> (0, 7.2265)
  line L15 (0, 7.2265) -> (-2.5, 8.6699)
  line L16 (-2.5, 8.6699) -> (-2.5, 11.5566)
  line L17 (-2.5, 11.5566) -> (0, 13)
  circle A13 centre (-8.7583, -5.0566) radius 4
  circle A14 centre (8.7583, -5.0566) radius 4
  circle A15 centre (0, 10.1132) radius 4
  point P0 (-0.0128, -0.0195)
  point P1 (5.4605, -7.3203)
  point P2 (9.0699, -1.0688)
  point P3 (3.6093, 8.3891)
  point P4 (-3.6093, 8.3891)
  point P5 (-9.0699, -1.0688)
extrude "Extrusion5" add sketch "Sketch5" along normal blind 4 contours A14 A2 | A10 A15 | A13 A6
sketch "Sketch6" plane through (-8.7456, -5.0371, 8) normal (0, 0, 1) x (1, 0, 0)
  circle A0 centre (0, 0) radius 4
  line L0 (-2.5, -1.4434) -> (-2.5, 1.4434)
  line L1 (-2.5, 1.4434) -> (0, 2.8868)
  line L2 (0, 2.8868) -> (2.5, 1.4434)
  line L3 (2.5, 1.4434) -> (2.5, -1.4434)
  line L4 (2.5, -1.4434) -> (0, -2.8868)
  line L5 (0, -2.8868) -> (-2.5, -1.4434)
  circle A1 centre (17.5167, 0) radius 4
  circle A2 centre (17.5167, 0) radius 4
  line L6 (20.0167, -1.4434) -> (17.5167, -2.8868)
  line L7 (17.5167, -2.8868) -> (15.0167, -1.4434)
  line L8 (15.0167, -1.4434) -> (15.0167, 1.4434)
  line L9 (15.0167, 1.4434) -> (17.5167, 2.8868)
  line L10 (17.5167, 2.8868) -> (20.0167, 1.4434)
  line L11 (20.0167, 1.4434) -> (20.0167, -1.4434)
  circle A3 centre (8.7583, 15.1699) radius 4
  line L12 (8.7583, 18.0566) -> (11.2583, 16.6132)
  line L13 (11.2583, 16.6132) -> (11.2583, 13.7265)
  line L14 (11.2583, 13.7265) -> (8.7583, 12.2831)
  line L15 (8.7583, 12.2831) -> (6.2583, 13.7265)
  line L16 (6.2583, 13.7265) -> (6.2583, 16.6132)
  line L17 (6.2583, 16.6132) -> (8.7583, 18.0566)
  circle A4 centre (0, 0) radius 1.75
  circle A5 centre (17.5167, 0) radius 1.75
  circle A6 centre (8.7583, 15.1699) radius 1.75
  point P0 (8.7456, 5.0371)
  dimension "d34" = 3.5
  dimension "d35" = 3.5
  dimension "d36" = 3.5
extrude "Extrusion6" add sketch "Sketch6" along normal blind 1.5 contours A0 | L0 L1 L2 L3 L4 L5 | A1 | L6 L7 L8 L9 L10 L11 | A3 | L12 L13 L14 L15 L16 L17
properties part number "palm_connector"
